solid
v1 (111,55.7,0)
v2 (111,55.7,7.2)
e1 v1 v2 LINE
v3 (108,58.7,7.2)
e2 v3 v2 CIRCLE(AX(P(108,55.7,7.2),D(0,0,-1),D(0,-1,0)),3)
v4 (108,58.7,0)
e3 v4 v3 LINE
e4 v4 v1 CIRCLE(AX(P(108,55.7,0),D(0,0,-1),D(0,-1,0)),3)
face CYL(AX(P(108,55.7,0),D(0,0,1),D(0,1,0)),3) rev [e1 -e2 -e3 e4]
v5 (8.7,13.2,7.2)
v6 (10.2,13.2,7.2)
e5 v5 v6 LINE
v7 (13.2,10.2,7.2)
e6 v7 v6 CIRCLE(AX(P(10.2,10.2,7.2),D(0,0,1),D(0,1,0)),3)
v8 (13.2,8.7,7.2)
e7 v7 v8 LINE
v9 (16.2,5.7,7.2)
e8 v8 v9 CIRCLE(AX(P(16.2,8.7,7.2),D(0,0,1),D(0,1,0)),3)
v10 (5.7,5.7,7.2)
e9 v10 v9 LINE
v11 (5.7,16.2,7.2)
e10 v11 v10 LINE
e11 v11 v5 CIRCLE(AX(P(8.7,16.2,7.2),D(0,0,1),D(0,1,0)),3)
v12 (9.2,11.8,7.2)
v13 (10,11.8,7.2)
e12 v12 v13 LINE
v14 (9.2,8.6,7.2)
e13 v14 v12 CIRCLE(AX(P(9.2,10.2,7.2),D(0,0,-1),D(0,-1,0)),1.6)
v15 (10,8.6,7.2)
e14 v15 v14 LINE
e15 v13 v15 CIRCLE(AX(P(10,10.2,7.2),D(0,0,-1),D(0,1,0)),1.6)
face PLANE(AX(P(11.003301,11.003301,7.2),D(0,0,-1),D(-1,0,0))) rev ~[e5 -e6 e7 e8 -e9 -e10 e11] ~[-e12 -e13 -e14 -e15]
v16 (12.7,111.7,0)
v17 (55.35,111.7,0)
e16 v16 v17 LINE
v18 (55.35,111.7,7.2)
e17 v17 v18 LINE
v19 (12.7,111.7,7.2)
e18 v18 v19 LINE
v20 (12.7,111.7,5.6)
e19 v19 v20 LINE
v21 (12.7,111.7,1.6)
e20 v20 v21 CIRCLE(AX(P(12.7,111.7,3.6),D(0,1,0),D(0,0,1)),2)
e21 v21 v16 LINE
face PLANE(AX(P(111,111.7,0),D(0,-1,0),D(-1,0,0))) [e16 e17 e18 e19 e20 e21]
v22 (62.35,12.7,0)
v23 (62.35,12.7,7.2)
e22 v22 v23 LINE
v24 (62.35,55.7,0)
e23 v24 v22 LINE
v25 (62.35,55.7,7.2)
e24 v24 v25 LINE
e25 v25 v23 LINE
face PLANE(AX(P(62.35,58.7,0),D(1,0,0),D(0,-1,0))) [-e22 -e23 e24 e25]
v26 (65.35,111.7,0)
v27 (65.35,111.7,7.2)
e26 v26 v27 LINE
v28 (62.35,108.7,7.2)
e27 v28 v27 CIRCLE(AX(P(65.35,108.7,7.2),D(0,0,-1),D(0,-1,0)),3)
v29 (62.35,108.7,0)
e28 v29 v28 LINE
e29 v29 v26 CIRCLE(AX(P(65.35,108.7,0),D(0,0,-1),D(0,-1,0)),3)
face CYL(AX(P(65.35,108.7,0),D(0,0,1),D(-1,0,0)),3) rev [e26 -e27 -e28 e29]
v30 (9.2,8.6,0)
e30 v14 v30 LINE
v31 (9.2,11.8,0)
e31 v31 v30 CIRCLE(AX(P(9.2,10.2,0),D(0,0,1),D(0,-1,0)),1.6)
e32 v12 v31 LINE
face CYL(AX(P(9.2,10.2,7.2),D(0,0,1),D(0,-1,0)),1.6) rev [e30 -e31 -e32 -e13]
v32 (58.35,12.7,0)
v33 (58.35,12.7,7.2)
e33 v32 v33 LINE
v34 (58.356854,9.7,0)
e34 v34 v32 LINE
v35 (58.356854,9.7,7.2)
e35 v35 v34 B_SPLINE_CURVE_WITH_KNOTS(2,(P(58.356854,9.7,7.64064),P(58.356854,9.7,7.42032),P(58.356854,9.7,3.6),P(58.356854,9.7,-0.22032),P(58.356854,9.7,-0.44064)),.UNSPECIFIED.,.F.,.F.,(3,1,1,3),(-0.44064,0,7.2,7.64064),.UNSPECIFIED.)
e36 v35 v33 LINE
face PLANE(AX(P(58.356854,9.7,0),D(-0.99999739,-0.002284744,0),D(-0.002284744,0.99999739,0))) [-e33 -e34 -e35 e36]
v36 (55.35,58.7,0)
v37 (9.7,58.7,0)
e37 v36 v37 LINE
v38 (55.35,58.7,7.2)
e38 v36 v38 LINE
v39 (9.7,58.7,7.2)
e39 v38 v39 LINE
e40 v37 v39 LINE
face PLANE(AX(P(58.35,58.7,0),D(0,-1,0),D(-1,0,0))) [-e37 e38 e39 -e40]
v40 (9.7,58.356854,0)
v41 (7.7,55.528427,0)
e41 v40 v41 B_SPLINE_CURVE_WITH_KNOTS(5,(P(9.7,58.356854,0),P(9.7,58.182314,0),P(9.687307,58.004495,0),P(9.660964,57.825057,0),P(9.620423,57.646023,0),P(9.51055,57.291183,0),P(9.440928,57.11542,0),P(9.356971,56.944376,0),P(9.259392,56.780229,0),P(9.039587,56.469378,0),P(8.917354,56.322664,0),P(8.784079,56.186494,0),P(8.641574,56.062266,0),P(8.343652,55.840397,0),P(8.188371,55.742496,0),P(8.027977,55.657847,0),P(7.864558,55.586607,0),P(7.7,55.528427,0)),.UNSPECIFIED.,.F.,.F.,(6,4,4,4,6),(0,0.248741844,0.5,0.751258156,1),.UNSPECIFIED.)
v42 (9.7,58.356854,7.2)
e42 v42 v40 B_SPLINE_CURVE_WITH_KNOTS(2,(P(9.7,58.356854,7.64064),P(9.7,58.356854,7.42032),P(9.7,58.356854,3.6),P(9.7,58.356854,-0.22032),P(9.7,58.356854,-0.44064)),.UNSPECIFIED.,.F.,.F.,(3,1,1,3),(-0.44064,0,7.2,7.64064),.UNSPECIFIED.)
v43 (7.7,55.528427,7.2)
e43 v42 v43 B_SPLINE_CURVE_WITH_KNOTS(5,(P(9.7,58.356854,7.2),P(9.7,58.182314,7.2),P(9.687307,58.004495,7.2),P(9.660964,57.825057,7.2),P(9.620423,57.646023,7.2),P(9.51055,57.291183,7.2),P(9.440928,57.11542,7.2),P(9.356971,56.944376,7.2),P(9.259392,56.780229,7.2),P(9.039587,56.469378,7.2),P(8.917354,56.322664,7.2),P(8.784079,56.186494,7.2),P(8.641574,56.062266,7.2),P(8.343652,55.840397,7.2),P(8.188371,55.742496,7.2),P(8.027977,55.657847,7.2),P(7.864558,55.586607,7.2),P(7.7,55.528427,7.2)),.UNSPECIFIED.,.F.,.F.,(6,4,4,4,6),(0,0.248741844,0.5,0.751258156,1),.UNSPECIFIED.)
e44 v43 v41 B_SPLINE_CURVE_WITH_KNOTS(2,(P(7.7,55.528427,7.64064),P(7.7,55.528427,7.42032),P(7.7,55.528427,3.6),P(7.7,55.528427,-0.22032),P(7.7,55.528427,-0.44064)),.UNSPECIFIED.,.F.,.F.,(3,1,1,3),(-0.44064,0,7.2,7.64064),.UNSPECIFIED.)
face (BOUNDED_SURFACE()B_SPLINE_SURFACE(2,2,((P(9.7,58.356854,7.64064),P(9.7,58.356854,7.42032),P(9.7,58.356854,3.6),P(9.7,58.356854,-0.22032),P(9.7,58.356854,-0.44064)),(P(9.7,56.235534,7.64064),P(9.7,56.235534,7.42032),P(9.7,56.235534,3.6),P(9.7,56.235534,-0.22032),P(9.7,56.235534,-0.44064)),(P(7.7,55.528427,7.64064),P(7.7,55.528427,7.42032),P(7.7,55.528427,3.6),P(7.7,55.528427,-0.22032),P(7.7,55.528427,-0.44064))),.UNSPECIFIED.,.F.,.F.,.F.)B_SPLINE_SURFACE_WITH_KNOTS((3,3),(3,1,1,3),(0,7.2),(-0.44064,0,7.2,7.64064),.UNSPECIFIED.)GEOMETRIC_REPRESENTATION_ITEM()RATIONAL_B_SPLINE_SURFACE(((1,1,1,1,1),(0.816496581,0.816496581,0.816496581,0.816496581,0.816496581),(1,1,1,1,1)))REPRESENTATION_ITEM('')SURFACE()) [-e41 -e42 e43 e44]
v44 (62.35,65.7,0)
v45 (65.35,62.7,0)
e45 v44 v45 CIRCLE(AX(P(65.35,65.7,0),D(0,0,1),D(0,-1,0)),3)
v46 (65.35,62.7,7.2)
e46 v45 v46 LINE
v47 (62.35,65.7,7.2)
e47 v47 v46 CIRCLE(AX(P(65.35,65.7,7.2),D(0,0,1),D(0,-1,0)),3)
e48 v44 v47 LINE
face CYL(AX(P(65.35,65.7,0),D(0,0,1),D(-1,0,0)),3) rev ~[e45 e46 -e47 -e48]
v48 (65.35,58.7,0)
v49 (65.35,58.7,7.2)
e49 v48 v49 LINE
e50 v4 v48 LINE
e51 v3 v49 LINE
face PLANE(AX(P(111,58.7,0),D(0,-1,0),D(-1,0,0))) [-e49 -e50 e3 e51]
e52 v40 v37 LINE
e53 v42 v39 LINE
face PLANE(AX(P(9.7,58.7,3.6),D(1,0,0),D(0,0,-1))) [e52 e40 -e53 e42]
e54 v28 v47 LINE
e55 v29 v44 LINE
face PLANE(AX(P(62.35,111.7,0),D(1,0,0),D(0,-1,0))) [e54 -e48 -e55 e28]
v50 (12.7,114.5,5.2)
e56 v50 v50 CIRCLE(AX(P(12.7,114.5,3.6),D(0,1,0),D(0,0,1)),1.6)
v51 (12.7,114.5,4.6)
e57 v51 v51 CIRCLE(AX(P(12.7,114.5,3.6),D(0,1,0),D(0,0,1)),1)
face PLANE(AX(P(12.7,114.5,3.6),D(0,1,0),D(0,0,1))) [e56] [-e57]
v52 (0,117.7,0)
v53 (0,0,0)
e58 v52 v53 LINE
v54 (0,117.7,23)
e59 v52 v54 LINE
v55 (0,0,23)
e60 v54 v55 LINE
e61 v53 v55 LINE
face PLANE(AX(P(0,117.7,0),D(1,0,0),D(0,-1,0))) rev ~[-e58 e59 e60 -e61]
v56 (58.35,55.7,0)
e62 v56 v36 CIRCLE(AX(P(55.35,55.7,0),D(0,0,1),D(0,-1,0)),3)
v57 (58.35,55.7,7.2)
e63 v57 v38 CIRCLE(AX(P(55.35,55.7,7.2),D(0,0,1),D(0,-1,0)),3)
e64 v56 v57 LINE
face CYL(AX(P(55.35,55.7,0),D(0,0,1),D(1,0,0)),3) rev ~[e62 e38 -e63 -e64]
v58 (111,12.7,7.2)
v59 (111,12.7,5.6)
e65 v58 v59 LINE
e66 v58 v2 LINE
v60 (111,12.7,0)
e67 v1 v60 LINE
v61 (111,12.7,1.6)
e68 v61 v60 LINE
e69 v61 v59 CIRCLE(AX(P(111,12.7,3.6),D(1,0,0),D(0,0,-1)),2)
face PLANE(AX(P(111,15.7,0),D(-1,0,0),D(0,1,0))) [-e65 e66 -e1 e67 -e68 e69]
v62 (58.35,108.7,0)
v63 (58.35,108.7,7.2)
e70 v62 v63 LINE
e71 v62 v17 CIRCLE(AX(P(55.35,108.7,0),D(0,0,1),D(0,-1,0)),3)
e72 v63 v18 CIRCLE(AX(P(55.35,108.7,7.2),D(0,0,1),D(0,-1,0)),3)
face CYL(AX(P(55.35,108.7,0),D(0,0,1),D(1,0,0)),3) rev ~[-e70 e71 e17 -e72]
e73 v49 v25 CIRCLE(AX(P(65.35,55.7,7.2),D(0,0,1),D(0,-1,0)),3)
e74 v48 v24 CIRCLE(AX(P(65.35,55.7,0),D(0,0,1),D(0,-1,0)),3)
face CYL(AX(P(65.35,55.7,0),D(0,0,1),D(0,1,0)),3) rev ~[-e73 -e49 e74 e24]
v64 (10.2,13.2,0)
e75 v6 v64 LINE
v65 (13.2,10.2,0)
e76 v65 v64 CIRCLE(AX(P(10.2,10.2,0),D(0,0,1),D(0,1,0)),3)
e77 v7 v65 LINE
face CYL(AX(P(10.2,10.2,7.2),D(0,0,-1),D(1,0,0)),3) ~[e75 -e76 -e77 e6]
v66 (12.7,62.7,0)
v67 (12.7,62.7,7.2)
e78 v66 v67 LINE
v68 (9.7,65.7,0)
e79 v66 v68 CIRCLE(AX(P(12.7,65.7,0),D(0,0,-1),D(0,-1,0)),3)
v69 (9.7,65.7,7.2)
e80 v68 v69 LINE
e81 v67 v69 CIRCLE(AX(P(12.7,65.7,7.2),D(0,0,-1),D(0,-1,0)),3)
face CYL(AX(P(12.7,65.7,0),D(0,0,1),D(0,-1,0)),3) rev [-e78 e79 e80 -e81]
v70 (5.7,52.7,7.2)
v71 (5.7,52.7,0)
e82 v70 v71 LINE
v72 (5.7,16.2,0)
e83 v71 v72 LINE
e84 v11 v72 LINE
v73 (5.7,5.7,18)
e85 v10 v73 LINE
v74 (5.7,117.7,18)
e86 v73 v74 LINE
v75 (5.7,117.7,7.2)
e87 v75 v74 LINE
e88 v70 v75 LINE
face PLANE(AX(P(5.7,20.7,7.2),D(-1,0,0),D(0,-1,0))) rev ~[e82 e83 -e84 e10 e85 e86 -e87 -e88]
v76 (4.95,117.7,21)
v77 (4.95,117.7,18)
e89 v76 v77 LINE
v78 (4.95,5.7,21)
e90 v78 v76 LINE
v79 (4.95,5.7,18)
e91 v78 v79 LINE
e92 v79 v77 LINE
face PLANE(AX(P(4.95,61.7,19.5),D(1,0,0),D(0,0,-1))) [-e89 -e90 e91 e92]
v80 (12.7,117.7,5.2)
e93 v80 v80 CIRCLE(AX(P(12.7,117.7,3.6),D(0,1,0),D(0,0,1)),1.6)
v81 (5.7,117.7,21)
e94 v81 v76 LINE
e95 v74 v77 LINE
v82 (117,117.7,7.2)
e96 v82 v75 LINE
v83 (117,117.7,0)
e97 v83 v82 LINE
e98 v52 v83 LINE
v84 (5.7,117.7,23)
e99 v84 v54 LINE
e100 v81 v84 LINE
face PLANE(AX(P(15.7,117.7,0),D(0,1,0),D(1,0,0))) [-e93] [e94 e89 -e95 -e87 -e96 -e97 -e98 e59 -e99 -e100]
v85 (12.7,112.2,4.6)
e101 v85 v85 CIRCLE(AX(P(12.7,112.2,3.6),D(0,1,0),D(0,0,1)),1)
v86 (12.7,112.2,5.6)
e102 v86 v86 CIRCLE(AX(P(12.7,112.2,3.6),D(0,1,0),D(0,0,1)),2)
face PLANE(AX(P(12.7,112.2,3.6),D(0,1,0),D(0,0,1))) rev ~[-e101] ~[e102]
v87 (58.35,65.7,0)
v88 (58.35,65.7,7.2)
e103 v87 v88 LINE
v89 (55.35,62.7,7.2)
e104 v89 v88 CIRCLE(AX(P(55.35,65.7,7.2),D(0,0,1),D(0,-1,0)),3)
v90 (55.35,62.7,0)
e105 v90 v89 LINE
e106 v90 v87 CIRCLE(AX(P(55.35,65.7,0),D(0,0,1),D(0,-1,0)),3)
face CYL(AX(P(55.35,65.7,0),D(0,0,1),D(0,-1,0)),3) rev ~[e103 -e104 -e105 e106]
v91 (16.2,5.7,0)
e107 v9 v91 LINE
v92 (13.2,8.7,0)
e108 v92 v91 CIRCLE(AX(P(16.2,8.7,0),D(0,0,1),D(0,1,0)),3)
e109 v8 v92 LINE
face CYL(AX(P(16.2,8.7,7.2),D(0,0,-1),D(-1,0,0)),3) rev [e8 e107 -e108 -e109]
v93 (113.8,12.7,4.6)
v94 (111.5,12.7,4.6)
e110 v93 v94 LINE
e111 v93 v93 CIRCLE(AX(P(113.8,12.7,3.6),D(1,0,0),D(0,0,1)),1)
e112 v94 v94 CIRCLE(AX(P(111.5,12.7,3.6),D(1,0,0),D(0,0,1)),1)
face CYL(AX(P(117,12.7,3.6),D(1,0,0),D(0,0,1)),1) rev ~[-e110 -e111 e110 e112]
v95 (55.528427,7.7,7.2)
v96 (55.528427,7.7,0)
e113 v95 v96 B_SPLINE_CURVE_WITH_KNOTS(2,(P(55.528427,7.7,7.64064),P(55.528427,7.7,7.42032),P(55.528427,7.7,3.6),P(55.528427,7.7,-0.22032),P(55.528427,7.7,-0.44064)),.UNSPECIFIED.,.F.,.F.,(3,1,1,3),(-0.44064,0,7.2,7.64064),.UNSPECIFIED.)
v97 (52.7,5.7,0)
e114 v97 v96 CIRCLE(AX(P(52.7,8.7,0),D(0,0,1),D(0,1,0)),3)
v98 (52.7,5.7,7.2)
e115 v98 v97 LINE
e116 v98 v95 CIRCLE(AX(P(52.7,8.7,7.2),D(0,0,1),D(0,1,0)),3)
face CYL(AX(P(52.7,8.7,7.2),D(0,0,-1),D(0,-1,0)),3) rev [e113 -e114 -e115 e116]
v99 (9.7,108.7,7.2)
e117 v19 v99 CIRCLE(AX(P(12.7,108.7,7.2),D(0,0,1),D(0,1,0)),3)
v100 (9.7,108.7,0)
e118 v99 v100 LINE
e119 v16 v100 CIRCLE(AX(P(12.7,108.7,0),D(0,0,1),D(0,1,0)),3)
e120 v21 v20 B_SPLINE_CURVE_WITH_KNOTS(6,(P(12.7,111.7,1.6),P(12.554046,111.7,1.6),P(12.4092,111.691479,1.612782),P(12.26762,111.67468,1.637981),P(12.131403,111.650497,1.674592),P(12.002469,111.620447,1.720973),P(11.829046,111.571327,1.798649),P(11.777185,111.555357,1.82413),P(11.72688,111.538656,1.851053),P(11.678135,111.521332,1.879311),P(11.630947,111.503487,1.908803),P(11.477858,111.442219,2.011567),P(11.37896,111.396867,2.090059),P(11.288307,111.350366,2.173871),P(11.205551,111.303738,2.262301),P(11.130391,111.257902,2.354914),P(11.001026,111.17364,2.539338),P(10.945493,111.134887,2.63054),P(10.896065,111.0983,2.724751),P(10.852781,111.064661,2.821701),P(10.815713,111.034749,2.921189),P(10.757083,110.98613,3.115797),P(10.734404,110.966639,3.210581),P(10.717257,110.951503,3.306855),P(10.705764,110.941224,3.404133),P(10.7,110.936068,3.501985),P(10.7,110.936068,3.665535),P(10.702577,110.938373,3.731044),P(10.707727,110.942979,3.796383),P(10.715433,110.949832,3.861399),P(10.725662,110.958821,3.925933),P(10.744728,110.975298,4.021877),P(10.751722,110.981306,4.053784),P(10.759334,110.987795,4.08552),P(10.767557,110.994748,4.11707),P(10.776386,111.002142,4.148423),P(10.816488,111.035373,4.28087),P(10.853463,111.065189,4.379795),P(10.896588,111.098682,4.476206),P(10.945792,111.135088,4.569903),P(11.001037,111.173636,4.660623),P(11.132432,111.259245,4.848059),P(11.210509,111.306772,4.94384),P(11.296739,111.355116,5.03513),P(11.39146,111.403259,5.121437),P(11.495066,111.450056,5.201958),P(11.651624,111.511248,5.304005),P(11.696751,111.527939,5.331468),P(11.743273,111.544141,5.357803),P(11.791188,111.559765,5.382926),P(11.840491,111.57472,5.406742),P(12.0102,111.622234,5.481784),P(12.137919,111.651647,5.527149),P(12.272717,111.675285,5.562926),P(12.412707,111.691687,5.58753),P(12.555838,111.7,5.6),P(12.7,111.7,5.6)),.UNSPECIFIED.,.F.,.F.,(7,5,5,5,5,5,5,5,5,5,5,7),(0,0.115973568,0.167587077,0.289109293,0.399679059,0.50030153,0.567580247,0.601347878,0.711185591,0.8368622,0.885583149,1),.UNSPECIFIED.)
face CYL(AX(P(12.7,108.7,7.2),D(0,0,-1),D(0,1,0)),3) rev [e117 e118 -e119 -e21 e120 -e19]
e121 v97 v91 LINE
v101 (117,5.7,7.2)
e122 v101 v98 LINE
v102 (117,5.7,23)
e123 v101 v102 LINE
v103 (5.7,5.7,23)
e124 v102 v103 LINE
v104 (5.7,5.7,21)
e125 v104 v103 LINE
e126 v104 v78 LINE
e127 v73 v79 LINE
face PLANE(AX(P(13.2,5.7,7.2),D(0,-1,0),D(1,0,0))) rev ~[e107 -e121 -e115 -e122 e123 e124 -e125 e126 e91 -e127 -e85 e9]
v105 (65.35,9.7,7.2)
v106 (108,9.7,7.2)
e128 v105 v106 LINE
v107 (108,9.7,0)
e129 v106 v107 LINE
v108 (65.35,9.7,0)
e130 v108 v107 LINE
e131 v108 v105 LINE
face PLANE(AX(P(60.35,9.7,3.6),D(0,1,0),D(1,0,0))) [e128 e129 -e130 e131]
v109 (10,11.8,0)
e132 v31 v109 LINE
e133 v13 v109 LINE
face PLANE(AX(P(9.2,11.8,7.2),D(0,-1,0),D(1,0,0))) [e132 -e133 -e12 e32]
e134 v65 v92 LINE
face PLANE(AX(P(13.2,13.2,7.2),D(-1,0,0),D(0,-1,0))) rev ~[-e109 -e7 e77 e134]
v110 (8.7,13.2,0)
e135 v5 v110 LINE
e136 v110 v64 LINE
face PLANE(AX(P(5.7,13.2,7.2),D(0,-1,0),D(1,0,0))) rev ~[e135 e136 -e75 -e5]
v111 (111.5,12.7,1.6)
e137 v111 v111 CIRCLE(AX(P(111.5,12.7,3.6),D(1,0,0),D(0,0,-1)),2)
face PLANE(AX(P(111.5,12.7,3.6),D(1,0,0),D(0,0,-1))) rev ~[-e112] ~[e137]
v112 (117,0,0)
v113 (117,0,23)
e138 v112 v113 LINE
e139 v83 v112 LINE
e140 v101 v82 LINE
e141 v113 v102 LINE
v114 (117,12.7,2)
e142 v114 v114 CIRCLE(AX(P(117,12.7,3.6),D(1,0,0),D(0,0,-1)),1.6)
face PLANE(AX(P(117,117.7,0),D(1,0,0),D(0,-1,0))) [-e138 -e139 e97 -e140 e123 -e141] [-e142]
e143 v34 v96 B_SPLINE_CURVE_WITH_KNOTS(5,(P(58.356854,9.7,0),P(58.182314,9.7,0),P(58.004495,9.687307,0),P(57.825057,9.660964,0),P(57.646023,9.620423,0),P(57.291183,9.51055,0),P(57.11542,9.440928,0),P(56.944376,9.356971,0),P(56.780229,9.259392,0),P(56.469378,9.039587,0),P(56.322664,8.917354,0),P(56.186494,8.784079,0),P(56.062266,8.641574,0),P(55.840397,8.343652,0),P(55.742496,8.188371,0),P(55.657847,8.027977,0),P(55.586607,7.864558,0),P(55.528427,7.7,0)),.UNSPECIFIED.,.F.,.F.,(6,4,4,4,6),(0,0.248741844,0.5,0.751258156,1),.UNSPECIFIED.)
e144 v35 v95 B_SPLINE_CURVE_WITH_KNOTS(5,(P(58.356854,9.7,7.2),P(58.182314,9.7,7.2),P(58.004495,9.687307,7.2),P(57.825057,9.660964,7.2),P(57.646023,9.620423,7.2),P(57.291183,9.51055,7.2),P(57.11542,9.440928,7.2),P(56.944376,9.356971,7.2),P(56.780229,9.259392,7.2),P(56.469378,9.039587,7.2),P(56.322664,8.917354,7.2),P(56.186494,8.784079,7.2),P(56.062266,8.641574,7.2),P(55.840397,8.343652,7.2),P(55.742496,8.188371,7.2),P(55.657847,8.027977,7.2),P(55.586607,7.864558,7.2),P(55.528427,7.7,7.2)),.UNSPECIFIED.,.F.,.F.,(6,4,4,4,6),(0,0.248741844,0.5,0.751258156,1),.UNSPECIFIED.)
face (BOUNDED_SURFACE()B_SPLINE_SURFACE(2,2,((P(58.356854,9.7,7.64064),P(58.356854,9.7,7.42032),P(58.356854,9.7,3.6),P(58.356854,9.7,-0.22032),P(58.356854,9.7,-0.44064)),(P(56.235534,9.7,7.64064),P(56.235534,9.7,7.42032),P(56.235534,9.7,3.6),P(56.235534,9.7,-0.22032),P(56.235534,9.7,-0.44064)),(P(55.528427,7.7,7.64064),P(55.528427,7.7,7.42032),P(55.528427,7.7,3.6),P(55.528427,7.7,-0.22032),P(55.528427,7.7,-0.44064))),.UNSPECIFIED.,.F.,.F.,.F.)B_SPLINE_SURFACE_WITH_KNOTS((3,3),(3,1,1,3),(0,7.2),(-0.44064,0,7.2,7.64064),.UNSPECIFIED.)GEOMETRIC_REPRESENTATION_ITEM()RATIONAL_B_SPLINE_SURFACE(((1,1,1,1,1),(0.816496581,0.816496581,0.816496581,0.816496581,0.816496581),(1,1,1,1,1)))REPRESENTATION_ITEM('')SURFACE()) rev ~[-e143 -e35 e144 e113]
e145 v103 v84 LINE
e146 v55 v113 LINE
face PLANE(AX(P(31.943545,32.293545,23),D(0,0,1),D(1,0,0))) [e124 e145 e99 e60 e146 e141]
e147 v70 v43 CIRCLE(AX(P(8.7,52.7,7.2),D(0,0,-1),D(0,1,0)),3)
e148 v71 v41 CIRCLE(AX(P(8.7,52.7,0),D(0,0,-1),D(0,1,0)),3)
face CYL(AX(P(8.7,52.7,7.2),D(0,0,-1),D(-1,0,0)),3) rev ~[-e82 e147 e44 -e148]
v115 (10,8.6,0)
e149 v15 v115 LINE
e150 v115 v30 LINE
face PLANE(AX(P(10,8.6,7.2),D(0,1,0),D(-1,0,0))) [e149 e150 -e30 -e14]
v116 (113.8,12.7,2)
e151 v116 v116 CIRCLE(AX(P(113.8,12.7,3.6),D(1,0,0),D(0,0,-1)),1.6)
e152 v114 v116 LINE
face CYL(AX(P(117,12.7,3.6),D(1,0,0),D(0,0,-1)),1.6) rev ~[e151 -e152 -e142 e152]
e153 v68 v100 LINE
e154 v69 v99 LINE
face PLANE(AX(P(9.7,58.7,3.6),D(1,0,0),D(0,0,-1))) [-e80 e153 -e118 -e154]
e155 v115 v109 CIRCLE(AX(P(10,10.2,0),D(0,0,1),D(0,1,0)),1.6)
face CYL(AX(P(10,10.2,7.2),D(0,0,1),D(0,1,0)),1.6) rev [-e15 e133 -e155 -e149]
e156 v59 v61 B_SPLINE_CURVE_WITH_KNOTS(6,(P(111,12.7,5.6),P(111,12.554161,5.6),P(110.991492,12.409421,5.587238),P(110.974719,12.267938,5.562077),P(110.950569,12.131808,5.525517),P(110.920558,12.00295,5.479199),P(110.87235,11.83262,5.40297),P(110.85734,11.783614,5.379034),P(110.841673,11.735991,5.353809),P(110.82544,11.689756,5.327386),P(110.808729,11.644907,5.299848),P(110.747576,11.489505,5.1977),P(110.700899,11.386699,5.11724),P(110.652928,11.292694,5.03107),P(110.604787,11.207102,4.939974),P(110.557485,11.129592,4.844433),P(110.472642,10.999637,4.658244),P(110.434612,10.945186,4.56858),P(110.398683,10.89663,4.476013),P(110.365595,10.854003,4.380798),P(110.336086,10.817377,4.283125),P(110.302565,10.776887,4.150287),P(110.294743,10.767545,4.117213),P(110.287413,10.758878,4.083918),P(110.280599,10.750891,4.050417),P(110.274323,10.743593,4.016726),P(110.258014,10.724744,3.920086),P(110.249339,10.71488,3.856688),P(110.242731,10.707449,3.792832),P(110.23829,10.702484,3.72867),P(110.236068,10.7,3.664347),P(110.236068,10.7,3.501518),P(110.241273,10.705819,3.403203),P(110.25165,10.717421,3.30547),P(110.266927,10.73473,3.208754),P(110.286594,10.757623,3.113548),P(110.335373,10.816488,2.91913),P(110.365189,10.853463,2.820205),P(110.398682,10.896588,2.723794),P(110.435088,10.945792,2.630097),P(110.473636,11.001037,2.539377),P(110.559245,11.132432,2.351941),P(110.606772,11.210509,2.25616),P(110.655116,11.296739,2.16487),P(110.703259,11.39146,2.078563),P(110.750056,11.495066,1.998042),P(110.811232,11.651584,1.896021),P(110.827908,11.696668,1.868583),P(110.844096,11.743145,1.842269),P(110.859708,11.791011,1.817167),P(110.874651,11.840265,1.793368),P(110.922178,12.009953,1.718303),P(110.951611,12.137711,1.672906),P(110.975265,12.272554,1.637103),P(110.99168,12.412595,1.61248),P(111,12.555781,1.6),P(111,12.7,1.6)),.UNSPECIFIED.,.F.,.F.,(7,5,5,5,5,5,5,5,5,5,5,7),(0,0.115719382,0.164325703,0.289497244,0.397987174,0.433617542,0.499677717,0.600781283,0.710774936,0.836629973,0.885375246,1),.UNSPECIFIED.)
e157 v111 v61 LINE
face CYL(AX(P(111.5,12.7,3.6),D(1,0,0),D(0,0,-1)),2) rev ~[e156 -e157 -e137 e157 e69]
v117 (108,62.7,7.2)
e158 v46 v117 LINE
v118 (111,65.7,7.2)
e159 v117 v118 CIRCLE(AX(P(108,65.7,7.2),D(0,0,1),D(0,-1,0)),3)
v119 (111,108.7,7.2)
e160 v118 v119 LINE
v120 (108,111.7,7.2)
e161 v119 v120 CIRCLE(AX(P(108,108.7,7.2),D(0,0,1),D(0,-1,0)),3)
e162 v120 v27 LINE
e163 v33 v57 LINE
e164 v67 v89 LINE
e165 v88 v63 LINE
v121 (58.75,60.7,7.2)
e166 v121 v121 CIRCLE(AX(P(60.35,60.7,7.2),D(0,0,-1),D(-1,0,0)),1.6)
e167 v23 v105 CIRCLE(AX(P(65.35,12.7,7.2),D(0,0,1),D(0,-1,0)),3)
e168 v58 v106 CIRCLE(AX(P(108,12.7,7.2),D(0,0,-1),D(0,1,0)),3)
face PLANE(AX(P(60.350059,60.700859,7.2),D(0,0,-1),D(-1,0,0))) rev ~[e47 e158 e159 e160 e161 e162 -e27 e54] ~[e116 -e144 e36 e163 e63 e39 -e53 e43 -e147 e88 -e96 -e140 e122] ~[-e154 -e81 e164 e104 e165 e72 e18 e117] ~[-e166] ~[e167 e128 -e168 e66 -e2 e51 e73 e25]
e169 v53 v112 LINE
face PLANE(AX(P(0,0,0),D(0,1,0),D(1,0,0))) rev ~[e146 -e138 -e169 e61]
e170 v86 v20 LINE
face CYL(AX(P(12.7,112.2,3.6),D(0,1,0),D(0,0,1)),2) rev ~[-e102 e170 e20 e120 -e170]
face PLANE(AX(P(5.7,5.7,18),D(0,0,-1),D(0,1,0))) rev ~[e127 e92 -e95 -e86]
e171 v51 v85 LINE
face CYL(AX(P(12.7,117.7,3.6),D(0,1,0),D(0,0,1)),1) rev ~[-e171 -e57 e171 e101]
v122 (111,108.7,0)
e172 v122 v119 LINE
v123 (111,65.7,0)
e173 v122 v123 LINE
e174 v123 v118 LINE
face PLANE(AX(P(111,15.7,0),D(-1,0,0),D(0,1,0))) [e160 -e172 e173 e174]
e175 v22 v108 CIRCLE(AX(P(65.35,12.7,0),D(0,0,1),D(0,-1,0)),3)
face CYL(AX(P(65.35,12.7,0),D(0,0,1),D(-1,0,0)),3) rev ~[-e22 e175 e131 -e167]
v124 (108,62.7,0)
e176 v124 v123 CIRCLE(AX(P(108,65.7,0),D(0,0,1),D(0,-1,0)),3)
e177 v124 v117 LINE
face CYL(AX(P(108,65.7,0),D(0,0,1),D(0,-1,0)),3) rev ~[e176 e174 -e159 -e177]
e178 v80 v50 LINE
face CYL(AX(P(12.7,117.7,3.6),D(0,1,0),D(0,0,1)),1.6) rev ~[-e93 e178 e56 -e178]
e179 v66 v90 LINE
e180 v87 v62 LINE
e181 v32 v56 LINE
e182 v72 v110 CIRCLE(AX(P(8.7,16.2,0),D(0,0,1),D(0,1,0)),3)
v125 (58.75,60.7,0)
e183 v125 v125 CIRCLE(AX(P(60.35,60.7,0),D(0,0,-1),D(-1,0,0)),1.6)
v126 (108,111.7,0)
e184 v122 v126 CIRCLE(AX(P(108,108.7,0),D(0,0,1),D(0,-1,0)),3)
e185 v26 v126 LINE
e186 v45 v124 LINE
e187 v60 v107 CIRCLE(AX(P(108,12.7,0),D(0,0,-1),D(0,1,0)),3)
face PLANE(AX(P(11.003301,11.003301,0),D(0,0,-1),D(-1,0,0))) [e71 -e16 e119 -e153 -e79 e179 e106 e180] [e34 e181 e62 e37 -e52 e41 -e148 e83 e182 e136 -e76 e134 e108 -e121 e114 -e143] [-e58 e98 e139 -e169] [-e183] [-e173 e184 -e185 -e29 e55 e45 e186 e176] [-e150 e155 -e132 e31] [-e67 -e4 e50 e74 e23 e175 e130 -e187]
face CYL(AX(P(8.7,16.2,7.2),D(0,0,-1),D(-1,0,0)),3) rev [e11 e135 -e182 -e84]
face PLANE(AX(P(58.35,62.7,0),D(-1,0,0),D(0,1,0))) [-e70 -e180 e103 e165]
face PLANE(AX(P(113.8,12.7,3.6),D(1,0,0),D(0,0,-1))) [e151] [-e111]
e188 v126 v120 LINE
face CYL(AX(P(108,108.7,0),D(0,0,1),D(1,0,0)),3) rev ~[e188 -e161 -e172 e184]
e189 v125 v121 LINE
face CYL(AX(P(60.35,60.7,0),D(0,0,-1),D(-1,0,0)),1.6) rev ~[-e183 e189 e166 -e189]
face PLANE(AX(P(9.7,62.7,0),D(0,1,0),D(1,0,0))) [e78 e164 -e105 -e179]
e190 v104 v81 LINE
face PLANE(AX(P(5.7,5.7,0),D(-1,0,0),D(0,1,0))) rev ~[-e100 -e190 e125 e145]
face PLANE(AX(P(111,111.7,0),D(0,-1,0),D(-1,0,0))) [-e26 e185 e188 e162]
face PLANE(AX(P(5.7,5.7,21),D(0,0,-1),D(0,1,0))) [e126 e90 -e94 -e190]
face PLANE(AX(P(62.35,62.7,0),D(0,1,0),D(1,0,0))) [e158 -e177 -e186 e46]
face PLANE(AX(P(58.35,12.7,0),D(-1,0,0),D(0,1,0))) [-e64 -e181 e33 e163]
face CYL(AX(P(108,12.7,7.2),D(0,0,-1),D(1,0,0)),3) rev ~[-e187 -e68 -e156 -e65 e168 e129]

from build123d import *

# Parameters (mm, degrees)
BOSS_EXTRUDE1_DEPTH            = 23
SKETCH2_W                      = 3
SKETCH2_H                      = 112
CUT_EXTRUDE1_DEPTH             = 0.75
SKETCH3_W                      = 7.2
SKETCH3_H                      = 6
BOSS_EXTRUDE2_DEPTH            = 10
SKETCH3_3_W                    = 7.2
SKETCH3_3_H                    = 106
BOSS_EXTRUDE3_DEPTH            = 4
FILLET1_R                      = 3
SKETCH5_W                      = 101.3
SKETCH5_H                      = 7.2
BOSS_EXTRUDE4_DEPTH            = 4
SKETCH5_3_W                    = 6
SKETCH5_3_H                    = 7.2
BOSS_EXTRUDE5_DEPTH            = 10
FILLET3_R                      = 3
SKETCH6_W                      = 50
SKETCH6_H                      = 50
CUT_EXTRUDE2_DEPTH             = 167.709117927
FILLET8_R                      = 3
FILLET9_R                      = 3
FILLET10_R                     = 3
FILLET11_R                     = 3
CUT_EXTRUDE3_REACH             = 169.545
SKETCH7_R                      = 1
CUT_EXTRUDE3_DIRECTION_2_DEPTH = 168.544889647
SKETCH7_5_R                    = 1.6
SKETCH7_5_R_2                  = 1
CUT_EXTRUDE4_DEPTH             = 3.2
CUT_EXTRUDE6_START             = -5.5
SKETCH8_R                      = 2
CUT_EXTRUDE6_DEPTH             = 3
CUT_EXTRUDE7_REACH             = 169.545
SKETCH9_R                      = 1
SKETCH9_3_R                    = 1.6
SKETCH9_3_R_2                  = 1
CUT_EXTRUDE8_DEPTH             = 3.2
CUT_EXTRUDE9_START             = -5.5
SKETCH10_R                     = 2
CUT_EXTRUDE9_DEPTH             = 3.2
BOSS_EXTRUDE6_DEPTH            = 7.2
FILLET12_R                     = 3
BOSS_EXTRUDE7_DEPTH            = 7.2
FILLET13_R                     = 3
FILLET14_R                     = 3
FILLET15_R                     = 3
FILLET16_R                     = 3
BOSS_EXTRUDE8_DEPTH            = 7.2
CUT_EXTRUDE10_REACH            = 168.709
CUT_EXTRUDE11_DEPTH            = 7.2
FILLET17_R                     = 3
CUT_EXTRUDE12_REACH            = 169.545
SKETCH16_R                     = 1.6


with BuildPart() as part:
    # Sketch1 → Boss-Extrude1 (new body)
    with BuildSketch(Plane.XY):
        Polygon((0, 117.7), (0, 0), (117, 0), (117, 5.7), (5.7, 5.7), (5.7, 117.7), align=None)
    extrude(amount=BOSS_EXTRUDE1_DEPTH)

    # Sketch2 → Cut-Extrude1 (cut)
    with BuildSketch(Plane(origin=(5.7, 0, 0), x_dir=(0, 0, -1), z_dir=(1, 0, 0))):
        with Locations((-19.5, 61.7)):
            Rectangle(SKETCH2_W, SKETCH2_H)
    extrude(amount=-CUT_EXTRUDE1_DEPTH, mode=Mode.SUBTRACT)

    # Sketch3 → Boss-Extrude2 (add)
    with BuildSketch(Plane(origin=(5.7, 0, 0), x_dir=(0, 0, -1), z_dir=(1, 0, 0))):
        with Locations((-3.6, 114.7)):
            Rectangle(SKETCH3_W, SKETCH3_H)
    extrude(amount=BOSS_EXTRUDE2_DEPTH)

    # Sketch3<3> → Boss-Extrude3 (add)
    with BuildSketch(Plane(origin=(5.7, 0, 0), x_dir=(0, 0, -1), z_dir=(1, 0, 0))):
        with Locations((-3.6, 58.7)):
            Rectangle(SKETCH3_3_W, SKETCH3_3_H)
    extrude(amount=BOSS_EXTRUDE3_DEPTH)

    # Fillet1
    fillet1_edges = [part.edges().sort_by_distance(p)[0] for p in [
        (9.7, 111.7, 3.6),
    ]]
    fillet(fillet1_edges, radius=FILLET1_R)

    # Sketch5 → Boss-Extrude4 (add)
    with BuildSketch(Plane(origin=(0, 5.7, 0), x_dir=(1, 0, 0), z_dir=(0, 1, 0))):
        with Locations((60.35, -3.6)):
            Rectangle(SKETCH5_W, SKETCH5_H)
    extrude(amount=BOSS_EXTRUDE4_DEPTH)

    # Sketch5<3> → Boss-Extrude5 (add)
    with BuildSketch(Plane(origin=(0, 5.7, 0), x_dir=(1, 0, 0), z_dir=(0, 1, 0))):
        with Locations((114, -3.6)):
            Rectangle(SKETCH5_3_W, SKETCH5_3_H)
    extrude(amount=BOSS_EXTRUDE5_DEPTH)

    # Fillet3
    fillet3_edges = [part.edges().sort_by_distance(p)[0] for p in [
        (111, 9.7, 3.6),
    ]]
    fillet(fillet3_edges, radius=FILLET3_R)

    # Sketch6 → Cut-Extrude2 (cut, through all)
    with BuildSketch(Plane.XY.offset(7.2)):
        with Locations((30.7, 30.7)):
            Rectangle(SKETCH6_W, SKETCH6_H)
    extrude(amount=-CUT_EXTRUDE2_DEPTH, mode=Mode.SUBTRACT)

    # Fillet8
    fillet8_edges = [part.edges().sort_by_distance(p)[0] for p in [
        (5.7, 55.7, 3.6),
    ]]
    fillet(fillet8_edges, radius=FILLET8_R)

    # Fillet9
    fillet9_edges = [part.edges().sort_by_distance(p)[0] for p in [
        (9.7, 55.7, 3.6),
    ]]
    fillet(fillet9_edges, radius=FILLET9_R)

    # Fillet10
    fillet10_edges = [part.edges().sort_by_distance(p)[0] for p in [
        (55.7, 5.7, 3.6),
    ]]
    fillet(fillet10_edges, radius=FILLET10_R)

    # Fillet11
    fillet11_edges = [part.edges().sort_by_distance(p)[0] for p in [
        (55.7, 9.7, 3.6),
    ]]
    fillet(fillet11_edges, radius=FILLET11_R)

    # Sketch7 → Cut-Extrude3 (cut, up to next)
    with BuildSketch(Plane(origin=(117, 0, 0), x_dir=(0, 0, -1), z_dir=(1, 0, 0)), mode=Mode.PRIVATE) as cut_extrude3_sk1:
        with Locations(Location((-3.6, 12.7, 0), (0, 0, 180))):
            Circle(SKETCH7_R)
    cut_extrude3_tool1 = extrude(cut_extrude3_sk1.sketch, amount=-CUT_EXTRUDE3_REACH, mode=Mode.PRIVATE) & part.part
    add(cut_extrude3_tool1.solids().sort_by_distance((117, 12.7, 3.6))[0], mode=Mode.SUBTRACT)

    # Sketch7 → Cut-Extrude3 direction 2 (cut)
    with BuildSketch(Plane(origin=(117, 0, 0), x_dir=(0, 0, -1), z_dir=(1, 0, 0))):
        with Locations(Location((-3.6, 12.7, 0), (0, 0, 180))):
            Circle(SKETCH7_R)
    extrude(amount=CUT_EXTRUDE3_DIRECTION_2_DEPTH, mode=Mode.SUBTRACT)

    # Sketch7<5> → Cut-Extrude4 (cut)
    with BuildSketch(Plane(origin=(117, 0, 0), x_dir=(0, 0, -1), z_dir=(1, 0, 0))):
        with Locations((-3.6, 12.7)):
            Circle(SKETCH7_5_R)
        with Locations((-3.6, 12.7)):
            Circle(SKETCH7_5_R_2, mode=Mode.SUBTRACT)
    extrude(amount=-CUT_EXTRUDE4_DEPTH, mode=Mode.SUBTRACT)

    # Sketch8 → Cut-Extrude6 (cut)
    with BuildSketch(Plane(origin=(117, 0, 0), x_dir=(0, 0, -1), z_dir=(1, 0, 0)).offset(CUT_EXTRUDE6_START)):
        with Locations((-3.6, 12.7)):
            Circle(SKETCH8_R)
    extrude(amount=-CUT_EXTRUDE6_DEPTH, mode=Mode.SUBTRACT)

    # Sketch9 → Cut-Extrude7 (cut, up to next)
    with BuildSketch(Plane(origin=(0, 117.7, 0), x_dir=(1, 0, 0), z_dir=(0, 1, 0)), mode=Mode.PRIVATE) as cut_extrude7_sk1:
        with Locations(Location((12.7, -3.6, 0), (0, 0, 270))):
            Circle(SKETCH9_R)
    cut_extrude7_tool1 = extrude(cut_extrude7_sk1.sketch, amount=-CUT_EXTRUDE7_REACH, mode=Mode.PRIVATE) & part.part
    add(cut_extrude7_tool1.solids().sort_by_distance((12.7, 117.7, 3.6))[0], mode=Mode.SUBTRACT)

    # Sketch9<3> → Cut-Extrude8 (cut)
    with BuildSketch(Plane(origin=(0, 117.7, 0), x_dir=(1, 0, 0), z_dir=(0, 1, 0))):
        with Locations(Location((12.7, -3.6, 0), (0, 0, 270))):
            Circle(SKETCH9_3_R)
        with Locations(Location((12.7, -3.6, 0), (0, 0, 270))):
            Circle(SKETCH9_3_R_2, mode=Mode.SUBTRACT)
    extrude(amount=-CUT_EXTRUDE8_DEPTH, mode=Mode.SUBTRACT)

    # Sketch10 → Cut-Extrude9 (cut)
    with BuildSketch(Plane(origin=(0, 117.7, 0), x_dir=(1, 0, 0), z_dir=(0, 1, 0)).offset(CUT_EXTRUDE9_START)):
        with Locations(Location((12.7, -3.6, 0), (0, 0, 270))):
            Circle(SKETCH10_R)
    extrude(amount=-CUT_EXTRUDE9_DEPTH, mode=Mode.SUBTRACT)

    # Sketch11 → Boss-Extrude6 (add)
    with BuildSketch(Plane(origin=(0, 0, 0), x_dir=(-1, 0, 0), z_dir=(0, 0, -1))):
        Polygon((-117, 15.7), (-111, 15.7), (-111, 111.7), (-15.7, 111.7), (-15.7, 117.7), (-63.35, 117.7), (-117, 117.7), align=None)
    extrude(amount=-BOSS_EXTRUDE6_DEPTH)

    # Fillet12
    fillet12_edges = [part.edges().sort_by_distance(p)[0] for p in [
        (111, 111.7, 3.6),
    ]]
    fillet(fillet12_edges, radius=FILLET12_R)

    # Sketch12 → Boss-Extrude7 (add)
    with BuildSketch(Plane(origin=(0, 0, 0), x_dir=(-1, 0, 0), z_dir=(0, 0, -1))):
        Polygon((-62.35, 12.7), (-62.35, 9.7), (-58.356854249, 9.7), (-58.35, 12.7), (-58.35, 58.7), (-9.7, 58.7), (-9.7, 62.7), (-58.35, 62.7), (-58.35, 108.7), (-58.35, 111.7), (-62.35, 111.7), (-62.35, 108.7), (-62.35, 62.7), (-111, 62.7), (-111, 58.7), (-62.35, 58.7), align=None)
    extrude(amount=-BOSS_EXTRUDE7_DEPTH)

    # Fillet13
    fillet13_edges = [part.edges().sort_by_distance(p)[0] for p in [
        (111, 62.7, 3.6),
        (62.35, 62.7, 3.6),
        (62.35, 111.7, 3.6),
    ]]
    fillet(fillet13_edges, radius=FILLET13_R)

    # Fillet14
    fillet14_edges = [part.edges().sort_by_distance(p)[0] for p in [
        (111, 58.7, 3.6),
        (62.35, 9.7, 3.6),
        (62.35, 58.7, 3.6),
    ]]
    fillet(fillet14_edges, radius=FILLET14_R)

    # Fillet15
    fillet15_edges = [part.edges().sort_by_distance(p)[0] for p in [
        (58.35, 111.7, 3.6),
        (58.35, 62.7, 3.6),
        (9.7, 62.7, 3.6),
    ]]
    fillet(fillet15_edges, radius=FILLET15_R)

    # Fillet16
    fillet16_edges = [part.edges().sort_by_distance(p)[0] for p in [
        (58.35, 58.7, 3.6),
    ]]
    fillet(fillet16_edges, radius=FILLET16_R)

    # Sketch13 → Boss-Extrude8 (add)
    with BuildSketch(Plane(origin=(0, 0, 0), x_dir=(-1, 0, 0), z_dir=(0, 0, -1))):
        Polygon((-5.7, 20.7), (-20.7, 5.7), (-5.7, 5.7), align=None)
    extrude(amount=-BOSS_EXTRUDE8_DEPTH)

    # Sketch14 → Cut-Extrude10 (cut, up to next)
    with BuildSketch(Plane.XY.offset(7.2), mode=Mode.PRIVATE) as cut_extrude10_sk1:
        with BuildLine():
            Line((10, 8.6), (9.2, 8.6))
            ThreePointArc((9.2, 8.6), (7.6, 10.2), (9.2, 11.8))
            Line((9.2, 11.8), (10, 11.8))
            ThreePointArc((10, 11.8), (11.6, 10.2), (10, 8.6))
        make_face()
    cut_extrude10_tool1 = extrude(cut_extrude10_sk1.sketch, amount=-CUT_EXTRUDE10_REACH, mode=Mode.PRIVATE) & part.part
    add(cut_extrude10_tool1.solids().sort_by_distance((9.6, 10.2, 7.2))[0], mode=Mode.SUBTRACT)

    # Sketch15 → Cut-Extrude11 (cut)
    with BuildSketch(Plane.XY.offset(7.2)):
        Polygon((13.2, 5.7), (20.7, 5.7), (13.2, 13.2), align=None)
        Polygon((5.7, 13.2), (13.2, 13.2), (5.7, 20.7), align=None)
        Polygon((13.2, 13.2), (20.7, 5.7), (20.7, 13.2), (20.7, 20.7), (13.2, 20.7), (5.7, 20.7), align=None)
    extrude(amount=-CUT_EXTRUDE11_DEPTH, mode=Mode.SUBTRACT)

    # Fillet17
    fillet17_edges = [part.edges().sort_by_distance(p)[0] for p in [
        (5.7, 13.2, 3.6),
        (13.2, 5.7, 3.6),
        (13.2, 13.2, 3.6),
    ]]
    fillet(fillet17_edges, radius=FILLET17_R)

    # Sketch16 → Cut-Extrude12 (cut, up to next)
    with BuildSketch(Plane(origin=(0, 0, 0), x_dir=(-1, 0, 0), z_dir=(0, 0, -1)), mode=Mode.PRIVATE) as cut_extrude12_sk1:
        with Locations((-60.35, 60.7)):
            Circle(SKETCH16_R)
    cut_extrude12_tool1 = extrude(cut_extrude12_sk1.sketch, amount=-CUT_EXTRUDE12_REACH, mode=Mode.PRIVATE) & part.part
    add(cut_extrude12_tool1.solids().sort_by_distance((60.35, 60.7, 0))[0], mode=Mode.SUBTRACT)


solid = part.part
